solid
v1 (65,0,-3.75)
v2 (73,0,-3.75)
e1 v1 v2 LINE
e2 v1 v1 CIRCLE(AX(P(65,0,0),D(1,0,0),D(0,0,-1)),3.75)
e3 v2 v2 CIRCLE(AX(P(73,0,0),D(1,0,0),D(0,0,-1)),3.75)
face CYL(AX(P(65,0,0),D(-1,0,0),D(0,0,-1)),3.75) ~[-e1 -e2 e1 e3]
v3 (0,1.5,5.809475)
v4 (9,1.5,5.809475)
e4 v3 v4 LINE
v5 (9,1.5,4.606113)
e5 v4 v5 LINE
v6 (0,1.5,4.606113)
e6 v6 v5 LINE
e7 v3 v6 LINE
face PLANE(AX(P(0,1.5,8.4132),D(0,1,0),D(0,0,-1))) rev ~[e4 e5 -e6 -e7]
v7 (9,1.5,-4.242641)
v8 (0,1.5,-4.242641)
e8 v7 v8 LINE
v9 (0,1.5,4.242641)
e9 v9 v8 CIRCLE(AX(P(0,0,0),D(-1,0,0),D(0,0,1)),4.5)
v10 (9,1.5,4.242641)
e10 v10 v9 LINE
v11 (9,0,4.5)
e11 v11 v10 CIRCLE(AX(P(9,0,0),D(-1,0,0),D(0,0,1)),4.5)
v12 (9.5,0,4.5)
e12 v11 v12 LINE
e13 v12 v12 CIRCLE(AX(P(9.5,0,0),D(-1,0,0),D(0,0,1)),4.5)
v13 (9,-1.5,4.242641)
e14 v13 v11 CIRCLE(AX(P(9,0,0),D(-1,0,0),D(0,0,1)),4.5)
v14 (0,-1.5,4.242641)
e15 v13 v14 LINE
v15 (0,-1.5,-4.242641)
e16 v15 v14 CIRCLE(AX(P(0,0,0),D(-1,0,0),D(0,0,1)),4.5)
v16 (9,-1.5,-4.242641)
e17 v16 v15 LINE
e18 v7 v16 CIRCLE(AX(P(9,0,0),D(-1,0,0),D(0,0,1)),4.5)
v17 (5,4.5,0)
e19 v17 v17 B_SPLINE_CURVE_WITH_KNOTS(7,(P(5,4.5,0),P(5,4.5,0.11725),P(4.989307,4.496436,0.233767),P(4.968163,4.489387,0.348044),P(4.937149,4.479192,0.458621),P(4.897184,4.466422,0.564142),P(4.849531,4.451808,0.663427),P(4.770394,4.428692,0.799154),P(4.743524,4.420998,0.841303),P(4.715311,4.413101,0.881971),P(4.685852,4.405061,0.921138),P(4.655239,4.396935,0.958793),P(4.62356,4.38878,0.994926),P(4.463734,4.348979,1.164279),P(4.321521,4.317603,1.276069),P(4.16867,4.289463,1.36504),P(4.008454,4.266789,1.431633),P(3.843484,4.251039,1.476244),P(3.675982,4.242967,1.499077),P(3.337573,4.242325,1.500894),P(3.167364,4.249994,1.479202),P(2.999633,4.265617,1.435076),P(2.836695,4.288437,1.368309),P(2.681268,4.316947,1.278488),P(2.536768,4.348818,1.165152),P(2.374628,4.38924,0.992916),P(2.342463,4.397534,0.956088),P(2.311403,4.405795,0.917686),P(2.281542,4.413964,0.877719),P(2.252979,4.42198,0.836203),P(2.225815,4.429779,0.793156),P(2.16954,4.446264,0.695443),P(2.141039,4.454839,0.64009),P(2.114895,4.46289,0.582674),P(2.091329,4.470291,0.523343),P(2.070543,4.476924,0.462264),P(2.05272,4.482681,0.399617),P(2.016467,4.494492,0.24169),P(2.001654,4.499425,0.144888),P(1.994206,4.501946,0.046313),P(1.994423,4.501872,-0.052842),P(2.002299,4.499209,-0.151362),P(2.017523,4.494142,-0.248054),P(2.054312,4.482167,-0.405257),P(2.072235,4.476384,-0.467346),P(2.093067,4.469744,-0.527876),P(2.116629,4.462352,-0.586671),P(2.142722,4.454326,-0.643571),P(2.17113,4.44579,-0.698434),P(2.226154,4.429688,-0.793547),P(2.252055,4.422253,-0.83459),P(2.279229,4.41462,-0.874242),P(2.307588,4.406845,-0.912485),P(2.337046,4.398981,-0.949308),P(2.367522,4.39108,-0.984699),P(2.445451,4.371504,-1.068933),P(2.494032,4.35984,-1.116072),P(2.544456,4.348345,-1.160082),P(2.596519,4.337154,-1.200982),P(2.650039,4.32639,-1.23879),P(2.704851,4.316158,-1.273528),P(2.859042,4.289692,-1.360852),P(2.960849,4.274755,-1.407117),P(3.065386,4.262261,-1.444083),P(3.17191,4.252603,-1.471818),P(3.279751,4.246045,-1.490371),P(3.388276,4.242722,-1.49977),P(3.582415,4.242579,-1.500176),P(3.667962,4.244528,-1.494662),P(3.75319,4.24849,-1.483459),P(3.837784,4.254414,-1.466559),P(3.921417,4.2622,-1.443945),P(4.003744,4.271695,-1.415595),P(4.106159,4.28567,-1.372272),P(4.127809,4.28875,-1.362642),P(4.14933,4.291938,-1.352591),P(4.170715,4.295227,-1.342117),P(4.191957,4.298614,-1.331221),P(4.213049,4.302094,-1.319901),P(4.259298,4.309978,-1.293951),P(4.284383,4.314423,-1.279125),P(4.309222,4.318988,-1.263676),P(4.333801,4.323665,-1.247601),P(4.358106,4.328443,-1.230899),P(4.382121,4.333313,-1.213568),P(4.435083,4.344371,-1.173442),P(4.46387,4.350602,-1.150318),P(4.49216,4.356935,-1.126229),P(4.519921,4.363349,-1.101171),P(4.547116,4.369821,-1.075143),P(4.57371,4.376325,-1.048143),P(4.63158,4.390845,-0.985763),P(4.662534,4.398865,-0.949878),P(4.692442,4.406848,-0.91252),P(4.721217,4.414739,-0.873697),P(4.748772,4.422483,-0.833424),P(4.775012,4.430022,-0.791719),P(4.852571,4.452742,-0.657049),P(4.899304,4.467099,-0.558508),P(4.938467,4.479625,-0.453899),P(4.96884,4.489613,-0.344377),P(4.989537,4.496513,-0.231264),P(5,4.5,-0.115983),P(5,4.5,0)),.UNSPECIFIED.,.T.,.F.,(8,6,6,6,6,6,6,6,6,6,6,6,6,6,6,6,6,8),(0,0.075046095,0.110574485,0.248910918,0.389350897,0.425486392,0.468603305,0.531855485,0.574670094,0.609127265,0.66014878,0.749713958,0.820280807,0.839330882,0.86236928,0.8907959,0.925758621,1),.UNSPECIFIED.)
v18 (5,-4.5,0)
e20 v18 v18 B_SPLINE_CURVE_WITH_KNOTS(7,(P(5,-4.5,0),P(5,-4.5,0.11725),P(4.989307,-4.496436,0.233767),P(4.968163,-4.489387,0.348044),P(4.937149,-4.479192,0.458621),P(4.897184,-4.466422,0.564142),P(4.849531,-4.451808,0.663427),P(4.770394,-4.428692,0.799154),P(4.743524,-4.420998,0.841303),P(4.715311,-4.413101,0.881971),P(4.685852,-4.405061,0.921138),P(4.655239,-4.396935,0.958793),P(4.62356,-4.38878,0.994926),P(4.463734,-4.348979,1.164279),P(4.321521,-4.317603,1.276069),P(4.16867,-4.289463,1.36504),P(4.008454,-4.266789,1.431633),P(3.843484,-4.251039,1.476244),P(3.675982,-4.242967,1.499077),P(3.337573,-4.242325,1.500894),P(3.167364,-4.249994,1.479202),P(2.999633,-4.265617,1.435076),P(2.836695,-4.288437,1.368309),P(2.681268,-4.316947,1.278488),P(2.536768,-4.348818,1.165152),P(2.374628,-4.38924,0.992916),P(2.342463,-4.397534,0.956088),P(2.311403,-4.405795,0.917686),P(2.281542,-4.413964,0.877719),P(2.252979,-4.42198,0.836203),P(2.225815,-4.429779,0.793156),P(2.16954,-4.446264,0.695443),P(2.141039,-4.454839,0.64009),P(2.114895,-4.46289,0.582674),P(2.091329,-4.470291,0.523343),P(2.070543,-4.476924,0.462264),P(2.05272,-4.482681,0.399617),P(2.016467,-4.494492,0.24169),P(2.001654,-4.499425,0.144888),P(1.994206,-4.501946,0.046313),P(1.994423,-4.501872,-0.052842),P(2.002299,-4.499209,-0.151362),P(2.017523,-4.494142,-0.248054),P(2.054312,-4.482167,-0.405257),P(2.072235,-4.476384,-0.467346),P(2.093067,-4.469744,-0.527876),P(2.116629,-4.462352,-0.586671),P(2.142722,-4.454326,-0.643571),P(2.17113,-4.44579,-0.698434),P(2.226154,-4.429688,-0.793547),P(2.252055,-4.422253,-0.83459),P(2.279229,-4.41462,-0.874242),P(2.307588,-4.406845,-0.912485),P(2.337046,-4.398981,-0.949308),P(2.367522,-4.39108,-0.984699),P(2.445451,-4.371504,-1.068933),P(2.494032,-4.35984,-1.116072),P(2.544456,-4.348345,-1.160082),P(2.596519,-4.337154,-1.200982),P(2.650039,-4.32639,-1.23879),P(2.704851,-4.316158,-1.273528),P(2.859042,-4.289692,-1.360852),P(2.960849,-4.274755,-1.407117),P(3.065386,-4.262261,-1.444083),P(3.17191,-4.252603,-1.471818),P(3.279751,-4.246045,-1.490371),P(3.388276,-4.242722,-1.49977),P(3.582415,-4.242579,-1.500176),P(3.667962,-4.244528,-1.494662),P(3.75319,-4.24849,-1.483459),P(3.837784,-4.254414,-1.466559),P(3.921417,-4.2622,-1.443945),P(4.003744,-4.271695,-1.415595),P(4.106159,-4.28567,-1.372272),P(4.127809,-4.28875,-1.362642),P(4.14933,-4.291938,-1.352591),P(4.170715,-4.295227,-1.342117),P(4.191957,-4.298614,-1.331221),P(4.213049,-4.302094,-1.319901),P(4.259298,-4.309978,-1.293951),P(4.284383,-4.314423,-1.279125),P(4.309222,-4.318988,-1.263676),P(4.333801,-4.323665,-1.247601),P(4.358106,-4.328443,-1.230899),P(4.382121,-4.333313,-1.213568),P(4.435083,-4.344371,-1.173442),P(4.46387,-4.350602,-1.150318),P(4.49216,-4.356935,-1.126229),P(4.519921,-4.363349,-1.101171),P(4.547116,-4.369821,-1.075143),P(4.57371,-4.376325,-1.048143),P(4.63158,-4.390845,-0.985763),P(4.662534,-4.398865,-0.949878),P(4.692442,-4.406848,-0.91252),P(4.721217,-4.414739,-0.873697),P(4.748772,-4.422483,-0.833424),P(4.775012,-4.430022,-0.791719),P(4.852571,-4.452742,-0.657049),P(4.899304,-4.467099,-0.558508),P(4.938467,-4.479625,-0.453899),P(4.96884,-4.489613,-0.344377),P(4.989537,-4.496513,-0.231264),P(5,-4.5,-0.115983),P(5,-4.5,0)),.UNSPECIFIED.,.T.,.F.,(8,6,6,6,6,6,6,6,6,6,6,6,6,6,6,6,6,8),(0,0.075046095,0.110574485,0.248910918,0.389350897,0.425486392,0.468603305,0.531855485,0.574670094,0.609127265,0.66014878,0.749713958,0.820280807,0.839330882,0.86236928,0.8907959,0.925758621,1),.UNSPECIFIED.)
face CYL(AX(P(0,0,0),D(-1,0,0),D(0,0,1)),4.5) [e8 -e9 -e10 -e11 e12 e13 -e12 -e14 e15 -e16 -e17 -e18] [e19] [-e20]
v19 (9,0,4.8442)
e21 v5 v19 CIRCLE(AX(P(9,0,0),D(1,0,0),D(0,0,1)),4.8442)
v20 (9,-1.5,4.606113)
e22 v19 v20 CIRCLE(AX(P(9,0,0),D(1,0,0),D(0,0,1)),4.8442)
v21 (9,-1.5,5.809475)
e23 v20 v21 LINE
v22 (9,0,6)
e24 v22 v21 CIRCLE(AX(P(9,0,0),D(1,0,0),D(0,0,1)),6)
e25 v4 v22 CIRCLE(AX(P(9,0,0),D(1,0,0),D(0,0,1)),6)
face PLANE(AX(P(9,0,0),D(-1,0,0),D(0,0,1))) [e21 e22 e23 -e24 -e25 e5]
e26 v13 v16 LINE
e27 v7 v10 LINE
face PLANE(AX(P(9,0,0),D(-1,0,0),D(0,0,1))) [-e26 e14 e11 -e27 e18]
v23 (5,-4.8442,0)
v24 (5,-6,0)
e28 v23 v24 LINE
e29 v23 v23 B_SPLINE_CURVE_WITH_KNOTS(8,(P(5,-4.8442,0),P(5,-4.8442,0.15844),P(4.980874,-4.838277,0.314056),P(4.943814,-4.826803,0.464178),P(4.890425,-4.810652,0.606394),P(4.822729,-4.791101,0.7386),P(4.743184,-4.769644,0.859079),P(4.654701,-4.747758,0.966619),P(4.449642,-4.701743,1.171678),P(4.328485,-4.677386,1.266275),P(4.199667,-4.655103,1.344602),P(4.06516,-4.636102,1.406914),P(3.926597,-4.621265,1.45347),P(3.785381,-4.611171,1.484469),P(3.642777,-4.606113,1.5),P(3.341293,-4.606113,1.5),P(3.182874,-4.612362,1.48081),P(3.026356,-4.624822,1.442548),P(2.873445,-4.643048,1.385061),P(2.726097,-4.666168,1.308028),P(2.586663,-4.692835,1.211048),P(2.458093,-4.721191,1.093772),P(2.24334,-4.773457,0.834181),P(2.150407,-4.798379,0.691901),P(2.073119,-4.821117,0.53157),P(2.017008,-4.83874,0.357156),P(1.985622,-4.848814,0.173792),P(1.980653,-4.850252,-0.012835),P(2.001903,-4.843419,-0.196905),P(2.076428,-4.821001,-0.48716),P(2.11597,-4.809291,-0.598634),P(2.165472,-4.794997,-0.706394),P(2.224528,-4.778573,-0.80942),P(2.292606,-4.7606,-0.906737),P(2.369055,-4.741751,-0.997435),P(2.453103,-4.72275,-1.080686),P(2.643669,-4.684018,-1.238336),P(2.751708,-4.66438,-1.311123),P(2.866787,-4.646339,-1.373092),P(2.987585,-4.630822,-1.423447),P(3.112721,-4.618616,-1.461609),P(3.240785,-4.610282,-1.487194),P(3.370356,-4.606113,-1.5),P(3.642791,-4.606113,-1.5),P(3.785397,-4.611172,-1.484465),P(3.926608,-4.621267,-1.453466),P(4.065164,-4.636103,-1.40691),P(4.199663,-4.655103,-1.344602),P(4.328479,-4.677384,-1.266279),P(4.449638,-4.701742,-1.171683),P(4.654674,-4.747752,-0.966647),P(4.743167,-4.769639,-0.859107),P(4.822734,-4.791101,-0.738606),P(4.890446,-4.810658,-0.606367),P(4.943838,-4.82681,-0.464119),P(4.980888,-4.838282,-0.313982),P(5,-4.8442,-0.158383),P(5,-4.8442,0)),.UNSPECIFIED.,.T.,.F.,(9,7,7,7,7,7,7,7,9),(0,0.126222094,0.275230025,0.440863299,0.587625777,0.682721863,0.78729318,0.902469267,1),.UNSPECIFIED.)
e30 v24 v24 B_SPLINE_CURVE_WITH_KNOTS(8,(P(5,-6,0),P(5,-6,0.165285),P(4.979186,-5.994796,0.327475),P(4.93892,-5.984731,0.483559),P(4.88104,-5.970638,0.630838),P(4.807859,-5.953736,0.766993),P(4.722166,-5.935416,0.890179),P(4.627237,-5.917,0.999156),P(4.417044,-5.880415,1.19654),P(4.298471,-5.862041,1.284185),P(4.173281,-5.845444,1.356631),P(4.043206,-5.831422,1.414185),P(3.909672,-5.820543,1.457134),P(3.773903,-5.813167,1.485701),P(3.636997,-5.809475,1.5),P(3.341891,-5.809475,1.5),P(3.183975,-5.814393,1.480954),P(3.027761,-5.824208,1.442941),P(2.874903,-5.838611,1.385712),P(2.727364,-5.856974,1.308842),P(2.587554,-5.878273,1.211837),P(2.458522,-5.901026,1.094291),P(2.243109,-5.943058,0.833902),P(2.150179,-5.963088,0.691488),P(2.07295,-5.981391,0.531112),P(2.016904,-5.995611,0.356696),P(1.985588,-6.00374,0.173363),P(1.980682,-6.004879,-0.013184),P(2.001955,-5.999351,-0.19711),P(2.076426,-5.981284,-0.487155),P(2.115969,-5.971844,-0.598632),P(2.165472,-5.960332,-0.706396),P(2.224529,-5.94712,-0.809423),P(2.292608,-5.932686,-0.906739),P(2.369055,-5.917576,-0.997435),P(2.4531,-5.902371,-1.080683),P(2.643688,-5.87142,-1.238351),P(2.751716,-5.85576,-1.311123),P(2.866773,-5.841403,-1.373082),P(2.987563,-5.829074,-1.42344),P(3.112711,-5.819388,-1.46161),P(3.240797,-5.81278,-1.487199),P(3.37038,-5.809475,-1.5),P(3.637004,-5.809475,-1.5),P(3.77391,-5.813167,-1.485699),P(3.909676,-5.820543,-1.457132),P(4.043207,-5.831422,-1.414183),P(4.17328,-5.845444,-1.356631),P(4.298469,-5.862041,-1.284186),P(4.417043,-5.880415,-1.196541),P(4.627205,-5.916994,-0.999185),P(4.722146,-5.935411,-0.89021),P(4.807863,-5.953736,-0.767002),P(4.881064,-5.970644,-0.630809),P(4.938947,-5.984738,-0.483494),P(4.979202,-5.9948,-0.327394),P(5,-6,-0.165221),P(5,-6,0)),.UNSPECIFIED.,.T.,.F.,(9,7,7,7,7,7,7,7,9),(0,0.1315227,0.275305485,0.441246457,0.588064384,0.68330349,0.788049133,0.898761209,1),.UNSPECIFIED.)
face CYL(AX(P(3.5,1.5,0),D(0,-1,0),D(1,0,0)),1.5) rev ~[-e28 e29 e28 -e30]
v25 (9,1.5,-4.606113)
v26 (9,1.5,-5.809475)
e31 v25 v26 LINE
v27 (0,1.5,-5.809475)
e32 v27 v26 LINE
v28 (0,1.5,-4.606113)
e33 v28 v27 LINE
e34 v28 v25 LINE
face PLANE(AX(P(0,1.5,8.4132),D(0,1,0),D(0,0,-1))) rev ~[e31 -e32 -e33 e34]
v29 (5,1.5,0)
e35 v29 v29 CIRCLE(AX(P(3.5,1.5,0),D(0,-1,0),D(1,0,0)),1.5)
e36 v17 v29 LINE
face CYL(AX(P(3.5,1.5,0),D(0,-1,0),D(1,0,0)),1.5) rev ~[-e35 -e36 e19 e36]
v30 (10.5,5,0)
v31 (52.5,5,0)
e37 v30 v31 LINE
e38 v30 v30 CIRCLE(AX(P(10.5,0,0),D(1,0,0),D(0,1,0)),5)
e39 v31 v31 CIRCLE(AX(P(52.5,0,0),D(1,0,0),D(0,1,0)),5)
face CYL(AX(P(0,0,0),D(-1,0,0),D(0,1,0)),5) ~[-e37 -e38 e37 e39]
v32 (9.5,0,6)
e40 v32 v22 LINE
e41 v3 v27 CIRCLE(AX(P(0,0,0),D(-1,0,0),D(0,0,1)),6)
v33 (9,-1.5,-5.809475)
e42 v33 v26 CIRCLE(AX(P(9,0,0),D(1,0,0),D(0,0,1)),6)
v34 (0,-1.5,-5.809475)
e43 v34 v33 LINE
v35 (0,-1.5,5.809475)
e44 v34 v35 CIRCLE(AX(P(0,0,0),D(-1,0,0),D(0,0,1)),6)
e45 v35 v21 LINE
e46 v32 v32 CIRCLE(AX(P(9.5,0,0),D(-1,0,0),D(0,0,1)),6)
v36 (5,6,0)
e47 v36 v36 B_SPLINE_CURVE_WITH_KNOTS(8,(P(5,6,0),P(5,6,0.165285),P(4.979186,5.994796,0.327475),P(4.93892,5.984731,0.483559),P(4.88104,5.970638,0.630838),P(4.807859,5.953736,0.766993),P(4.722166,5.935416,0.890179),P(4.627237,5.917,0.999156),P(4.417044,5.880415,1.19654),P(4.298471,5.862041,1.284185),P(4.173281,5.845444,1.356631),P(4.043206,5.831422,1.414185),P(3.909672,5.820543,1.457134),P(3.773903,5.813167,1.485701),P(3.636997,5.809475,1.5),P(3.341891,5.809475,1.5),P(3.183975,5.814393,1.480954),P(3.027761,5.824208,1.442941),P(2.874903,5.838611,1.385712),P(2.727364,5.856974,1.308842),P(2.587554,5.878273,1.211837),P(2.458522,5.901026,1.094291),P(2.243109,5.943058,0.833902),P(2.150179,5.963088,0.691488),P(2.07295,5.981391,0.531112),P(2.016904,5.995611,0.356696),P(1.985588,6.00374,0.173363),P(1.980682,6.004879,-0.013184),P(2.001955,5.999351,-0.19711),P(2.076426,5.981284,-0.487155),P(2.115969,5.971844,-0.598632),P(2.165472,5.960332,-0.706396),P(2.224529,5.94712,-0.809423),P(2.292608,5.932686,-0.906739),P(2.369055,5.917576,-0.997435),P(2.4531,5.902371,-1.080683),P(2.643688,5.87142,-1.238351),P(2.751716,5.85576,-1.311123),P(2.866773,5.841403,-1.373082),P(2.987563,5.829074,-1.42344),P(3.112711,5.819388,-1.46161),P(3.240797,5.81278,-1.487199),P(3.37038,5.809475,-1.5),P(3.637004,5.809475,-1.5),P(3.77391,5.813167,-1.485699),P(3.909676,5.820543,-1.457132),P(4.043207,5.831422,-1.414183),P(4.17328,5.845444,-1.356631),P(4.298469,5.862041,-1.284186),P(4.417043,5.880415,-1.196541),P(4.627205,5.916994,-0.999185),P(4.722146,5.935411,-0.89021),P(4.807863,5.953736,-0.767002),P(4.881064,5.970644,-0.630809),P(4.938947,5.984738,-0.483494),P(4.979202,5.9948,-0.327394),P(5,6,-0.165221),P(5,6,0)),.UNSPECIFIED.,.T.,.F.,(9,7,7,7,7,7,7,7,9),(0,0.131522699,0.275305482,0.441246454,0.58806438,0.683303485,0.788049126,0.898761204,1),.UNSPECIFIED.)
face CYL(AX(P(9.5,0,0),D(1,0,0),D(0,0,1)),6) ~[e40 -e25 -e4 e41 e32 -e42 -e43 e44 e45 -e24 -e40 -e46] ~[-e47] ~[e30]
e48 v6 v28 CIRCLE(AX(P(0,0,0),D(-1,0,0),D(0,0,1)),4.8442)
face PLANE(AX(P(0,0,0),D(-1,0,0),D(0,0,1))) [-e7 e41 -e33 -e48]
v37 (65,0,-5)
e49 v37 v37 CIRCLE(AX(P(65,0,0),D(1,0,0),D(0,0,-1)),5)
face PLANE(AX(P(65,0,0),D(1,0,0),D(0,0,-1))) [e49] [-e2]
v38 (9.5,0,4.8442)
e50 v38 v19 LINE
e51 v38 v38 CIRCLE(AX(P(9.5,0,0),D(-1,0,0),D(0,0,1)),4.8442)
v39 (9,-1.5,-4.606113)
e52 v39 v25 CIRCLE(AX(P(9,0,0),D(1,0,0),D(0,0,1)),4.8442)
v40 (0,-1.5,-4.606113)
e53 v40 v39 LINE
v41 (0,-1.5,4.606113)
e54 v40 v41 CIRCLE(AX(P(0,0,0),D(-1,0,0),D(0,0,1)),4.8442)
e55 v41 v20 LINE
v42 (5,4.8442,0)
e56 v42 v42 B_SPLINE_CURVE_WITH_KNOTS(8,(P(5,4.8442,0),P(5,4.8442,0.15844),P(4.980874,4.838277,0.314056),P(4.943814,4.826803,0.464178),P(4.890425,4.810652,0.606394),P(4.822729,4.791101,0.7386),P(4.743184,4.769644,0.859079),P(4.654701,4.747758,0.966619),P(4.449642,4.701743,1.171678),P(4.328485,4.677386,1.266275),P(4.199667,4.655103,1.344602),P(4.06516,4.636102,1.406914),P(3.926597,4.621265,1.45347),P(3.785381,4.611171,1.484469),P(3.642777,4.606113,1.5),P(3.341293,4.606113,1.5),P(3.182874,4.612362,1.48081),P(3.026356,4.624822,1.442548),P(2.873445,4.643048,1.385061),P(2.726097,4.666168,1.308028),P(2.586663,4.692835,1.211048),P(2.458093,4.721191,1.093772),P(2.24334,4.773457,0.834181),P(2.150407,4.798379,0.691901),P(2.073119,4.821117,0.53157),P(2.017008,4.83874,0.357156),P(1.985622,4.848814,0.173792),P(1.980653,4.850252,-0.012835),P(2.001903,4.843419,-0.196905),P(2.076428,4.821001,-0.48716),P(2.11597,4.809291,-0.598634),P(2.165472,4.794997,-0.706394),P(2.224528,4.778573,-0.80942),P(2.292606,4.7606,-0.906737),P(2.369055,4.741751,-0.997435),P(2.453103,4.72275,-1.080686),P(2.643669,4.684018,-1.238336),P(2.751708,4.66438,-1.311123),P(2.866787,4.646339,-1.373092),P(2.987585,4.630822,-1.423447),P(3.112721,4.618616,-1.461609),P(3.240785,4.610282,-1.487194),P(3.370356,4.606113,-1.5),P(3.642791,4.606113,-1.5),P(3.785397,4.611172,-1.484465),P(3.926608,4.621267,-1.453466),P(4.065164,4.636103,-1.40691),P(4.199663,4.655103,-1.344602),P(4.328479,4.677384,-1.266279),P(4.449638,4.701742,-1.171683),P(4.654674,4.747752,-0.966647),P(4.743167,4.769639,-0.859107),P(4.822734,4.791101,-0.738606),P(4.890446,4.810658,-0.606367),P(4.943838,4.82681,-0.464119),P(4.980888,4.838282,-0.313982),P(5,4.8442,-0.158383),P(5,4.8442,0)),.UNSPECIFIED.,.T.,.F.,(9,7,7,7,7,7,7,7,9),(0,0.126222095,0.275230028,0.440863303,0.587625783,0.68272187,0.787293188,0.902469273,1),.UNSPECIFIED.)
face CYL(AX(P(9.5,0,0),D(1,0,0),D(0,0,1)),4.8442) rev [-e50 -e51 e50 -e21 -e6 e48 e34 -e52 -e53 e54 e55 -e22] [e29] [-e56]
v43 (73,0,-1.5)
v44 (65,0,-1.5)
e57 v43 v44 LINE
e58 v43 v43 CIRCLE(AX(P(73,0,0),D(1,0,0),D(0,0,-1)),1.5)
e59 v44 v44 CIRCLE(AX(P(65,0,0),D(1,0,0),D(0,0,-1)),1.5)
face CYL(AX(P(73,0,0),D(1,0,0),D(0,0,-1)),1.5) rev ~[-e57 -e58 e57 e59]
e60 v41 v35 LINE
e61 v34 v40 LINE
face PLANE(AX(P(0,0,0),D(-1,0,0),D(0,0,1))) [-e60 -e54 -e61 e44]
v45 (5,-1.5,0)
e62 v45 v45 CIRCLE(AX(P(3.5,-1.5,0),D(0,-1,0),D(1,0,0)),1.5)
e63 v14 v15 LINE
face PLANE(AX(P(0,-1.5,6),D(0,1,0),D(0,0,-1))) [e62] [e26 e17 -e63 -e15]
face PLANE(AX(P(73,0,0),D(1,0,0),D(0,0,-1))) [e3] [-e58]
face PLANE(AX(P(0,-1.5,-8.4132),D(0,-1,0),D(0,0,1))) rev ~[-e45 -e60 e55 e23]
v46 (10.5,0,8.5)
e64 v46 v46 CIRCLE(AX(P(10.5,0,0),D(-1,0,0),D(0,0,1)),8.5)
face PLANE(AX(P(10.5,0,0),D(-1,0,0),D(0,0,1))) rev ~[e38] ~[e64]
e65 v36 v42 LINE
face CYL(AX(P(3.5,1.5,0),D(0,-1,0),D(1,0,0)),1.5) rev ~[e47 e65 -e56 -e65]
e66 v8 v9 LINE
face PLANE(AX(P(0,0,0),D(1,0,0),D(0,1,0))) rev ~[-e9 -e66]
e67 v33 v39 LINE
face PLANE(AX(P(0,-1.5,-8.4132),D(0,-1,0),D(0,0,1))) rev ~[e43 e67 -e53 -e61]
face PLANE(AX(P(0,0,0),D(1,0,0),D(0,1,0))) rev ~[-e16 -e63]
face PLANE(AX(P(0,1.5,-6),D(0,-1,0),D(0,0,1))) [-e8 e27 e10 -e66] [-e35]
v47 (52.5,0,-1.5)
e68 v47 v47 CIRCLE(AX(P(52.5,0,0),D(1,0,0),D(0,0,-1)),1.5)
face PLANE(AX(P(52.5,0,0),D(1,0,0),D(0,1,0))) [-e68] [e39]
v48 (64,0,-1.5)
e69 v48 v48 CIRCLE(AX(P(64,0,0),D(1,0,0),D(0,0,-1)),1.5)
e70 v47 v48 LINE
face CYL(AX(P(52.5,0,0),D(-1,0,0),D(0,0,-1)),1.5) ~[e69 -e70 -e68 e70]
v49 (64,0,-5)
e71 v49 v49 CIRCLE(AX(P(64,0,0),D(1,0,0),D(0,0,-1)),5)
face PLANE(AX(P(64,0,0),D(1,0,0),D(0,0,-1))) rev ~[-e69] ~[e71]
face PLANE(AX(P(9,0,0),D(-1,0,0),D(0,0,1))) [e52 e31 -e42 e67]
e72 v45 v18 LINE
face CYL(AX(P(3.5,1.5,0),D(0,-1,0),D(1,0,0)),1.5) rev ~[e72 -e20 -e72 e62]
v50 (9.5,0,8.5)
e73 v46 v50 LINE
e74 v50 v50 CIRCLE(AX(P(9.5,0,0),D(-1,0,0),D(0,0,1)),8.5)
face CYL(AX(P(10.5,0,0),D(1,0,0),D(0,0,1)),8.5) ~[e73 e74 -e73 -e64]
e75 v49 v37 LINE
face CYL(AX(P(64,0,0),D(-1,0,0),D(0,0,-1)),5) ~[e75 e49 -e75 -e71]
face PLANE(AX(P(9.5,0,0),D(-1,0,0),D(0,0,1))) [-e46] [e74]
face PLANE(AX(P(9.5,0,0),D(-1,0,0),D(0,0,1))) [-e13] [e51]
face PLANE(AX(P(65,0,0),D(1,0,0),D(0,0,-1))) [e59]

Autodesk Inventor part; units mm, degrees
ref_plane "YZ Plane" through (0, 0, 0) normal (1, 0, 0) x (0, 1, 0)
ref_plane "XZ Plane" through (0, 0, 0) normal (0, 1, 0) x (-1, 0, 0)
ref_plane "XY Plane" through (0, 0, 0) normal (0, 0, 1) x (1, 0, 0)
sketch "Sketch1" plane through (0, 0, 0) normal (1, 0, 0) x (0, 1, 0)
  circle A0 centre (0, 0) radius 5
  dimension "d0" = 10
extrude "Extrusion1" add sketch "Sketch1" along normal blind 52.5
sketch "Sketch2" plane through (52.5, 0, 0) normal (1, 0, 0) x (0, 0, -1)
  circle A0 centre (0, 0) radius 1.5
  dimension "d3" = 3
extrude "Extrusion2" add sketch "Sketch2" along normal blind 11.5
sketch "Sketch3" plane through (64, 0, 0) normal (1, 0, 0) x (0, 0, -1)
  circle A0 centre (0, 0) radius 5
  dimension "d6" = 10
extrude "Extrusion3" add sketch "Sketch3" along normal blind 1
sketch "Sketch4" plane through (65, 0, 0) normal (1, 0, 0) x (0, 0, -1)
  circle A0 centre (0, 0) radius 3.75
  dimension "d9" = 7.5
extrude "Extrusion4" add sketch "Sketch4" along normal blind 8
sketch "Sketch5" plane through (73, 0, 0) normal (1, 0, 0) x (0, 0, -1)
  circle A0 centre (0, 0) radius 1.5
  dimension "d12" = 3
extrude "Extrusion5" cut sketch "Sketch5" against normal blind 8
sketch "Sketch6" plane through (0, 0, 0) normal (-1, 0, 0) x (0, 0, 1)
  circle A0 centre (0, 0) radius 3.75 projected
  circle A1 centre (0, 0) radius 4.5
  circle A2 centre (0, 0) radius 1.5 projected
  circle A3 centre (0, 0) radius 5
  dimension "d15" = 9
  dimension "d16" = 10
extrude "Extrusion6" cut sketch "Sketch6" against normal blind 10.5 contours A3
sketch "Sketch7" plane through (10.5, 0, 0) normal (-1, 0, 0) x (0, 0, 1)
  circle A0 centre (0, 0) radius 8.5
  dimension "d19" = 17
extrude "Extrusion7" add sketch "Sketch7" along normal blind 1
sketch "Sketch8" plane through (0, 0, 0) normal (-1, 0, 0) x (0, 0, 1)
  line L0 (-6, 1.5) -> (6, 1.5)
  line L1 (6, 1.5) -> (6, -1.5)
  line L2 (6, -1.5) -> (-6, -1.5)
  line L3 (-6, -1.5) -> (-6, 1.5)
  line L4 (-6, 1.5) -> (6, -1.5) construction
  line L5 (6, 1.5) -> (-6, -1.5) construction
  point P0 (0, 0)
  point P1 (0, 0)
  dimension "d23" = 12
extrude "Extrusion8" cut sketch "Sketch8" against normal blind 9
sketch "Sketch10" plane through (9.5, 0, 0) normal (-1, 0, 0) x (0, 0, 1)
  circle A0 centre (0, 0) radius 6
  circle A1 centre (0, 0) radius 1.5 projected
  circle A2 centre (0, 0) radius 4.8442
extrude "Extrusion10" add sketch "Sketch10" along normal blind 9.5 contours A0
sketch "Sketch12" plane through (0, 0, 0) normal (-1, 0, 0) x (0, 0, 1)
  line L0 (-8.4132, -1.5) -> (8.4132, -1.5)
  line L1 (8.4132, -1.5) -> (8.4132, 1.5)
  line L2 (8.4132, 1.5) -> (-8.4132, 1.5)
  line L3 (-8.4132, 1.5) -> (-8.4132, -1.5)
  line L4 (-8.4132, -1.5) -> (8.4132, 1.5) construction
  line L5 (8.4132, -1.5) -> (-8.4132, 1.5) construction
  point P0 (0, 0)
  dimension "d35" = 3
extrude "Extrusion12" cut sketch "Sketch12" against normal blind 9
sketch "Sketch13" plane through (0, 1.5, -5.8095) normal (0, -1, 0) x (1, 0, 0)
  line L0 (-3.5, 6.3202) -> (3.5, 6.3202)
  line L1 (3.5, 6.3202) -> (3.5, 5.2988)
  line L2 (3.5, 5.2988) -> (-3.5, 5.2988)
  line L3 (-3.5, 5.2988) -> (-3.5, 6.3202)
  line L4 (-3.5, 6.3202) -> (3.5, 5.2988) construction
  line L5 (3.5, 6.3202) -> (-3.5, 5.2988) construction
  circle A0 centre (3.5, 5.8095) radius 1.5
  point P0 (0, 5.8095)
  dimension "d38" = 7
  dimension "d39" = 3
extrude "Extrusion13" cut sketch "Sketch13" along normal through all both and the other way through all contours A0 L2 L1 L0 | L0 L1 L2 A0
properties part number "shaft"
